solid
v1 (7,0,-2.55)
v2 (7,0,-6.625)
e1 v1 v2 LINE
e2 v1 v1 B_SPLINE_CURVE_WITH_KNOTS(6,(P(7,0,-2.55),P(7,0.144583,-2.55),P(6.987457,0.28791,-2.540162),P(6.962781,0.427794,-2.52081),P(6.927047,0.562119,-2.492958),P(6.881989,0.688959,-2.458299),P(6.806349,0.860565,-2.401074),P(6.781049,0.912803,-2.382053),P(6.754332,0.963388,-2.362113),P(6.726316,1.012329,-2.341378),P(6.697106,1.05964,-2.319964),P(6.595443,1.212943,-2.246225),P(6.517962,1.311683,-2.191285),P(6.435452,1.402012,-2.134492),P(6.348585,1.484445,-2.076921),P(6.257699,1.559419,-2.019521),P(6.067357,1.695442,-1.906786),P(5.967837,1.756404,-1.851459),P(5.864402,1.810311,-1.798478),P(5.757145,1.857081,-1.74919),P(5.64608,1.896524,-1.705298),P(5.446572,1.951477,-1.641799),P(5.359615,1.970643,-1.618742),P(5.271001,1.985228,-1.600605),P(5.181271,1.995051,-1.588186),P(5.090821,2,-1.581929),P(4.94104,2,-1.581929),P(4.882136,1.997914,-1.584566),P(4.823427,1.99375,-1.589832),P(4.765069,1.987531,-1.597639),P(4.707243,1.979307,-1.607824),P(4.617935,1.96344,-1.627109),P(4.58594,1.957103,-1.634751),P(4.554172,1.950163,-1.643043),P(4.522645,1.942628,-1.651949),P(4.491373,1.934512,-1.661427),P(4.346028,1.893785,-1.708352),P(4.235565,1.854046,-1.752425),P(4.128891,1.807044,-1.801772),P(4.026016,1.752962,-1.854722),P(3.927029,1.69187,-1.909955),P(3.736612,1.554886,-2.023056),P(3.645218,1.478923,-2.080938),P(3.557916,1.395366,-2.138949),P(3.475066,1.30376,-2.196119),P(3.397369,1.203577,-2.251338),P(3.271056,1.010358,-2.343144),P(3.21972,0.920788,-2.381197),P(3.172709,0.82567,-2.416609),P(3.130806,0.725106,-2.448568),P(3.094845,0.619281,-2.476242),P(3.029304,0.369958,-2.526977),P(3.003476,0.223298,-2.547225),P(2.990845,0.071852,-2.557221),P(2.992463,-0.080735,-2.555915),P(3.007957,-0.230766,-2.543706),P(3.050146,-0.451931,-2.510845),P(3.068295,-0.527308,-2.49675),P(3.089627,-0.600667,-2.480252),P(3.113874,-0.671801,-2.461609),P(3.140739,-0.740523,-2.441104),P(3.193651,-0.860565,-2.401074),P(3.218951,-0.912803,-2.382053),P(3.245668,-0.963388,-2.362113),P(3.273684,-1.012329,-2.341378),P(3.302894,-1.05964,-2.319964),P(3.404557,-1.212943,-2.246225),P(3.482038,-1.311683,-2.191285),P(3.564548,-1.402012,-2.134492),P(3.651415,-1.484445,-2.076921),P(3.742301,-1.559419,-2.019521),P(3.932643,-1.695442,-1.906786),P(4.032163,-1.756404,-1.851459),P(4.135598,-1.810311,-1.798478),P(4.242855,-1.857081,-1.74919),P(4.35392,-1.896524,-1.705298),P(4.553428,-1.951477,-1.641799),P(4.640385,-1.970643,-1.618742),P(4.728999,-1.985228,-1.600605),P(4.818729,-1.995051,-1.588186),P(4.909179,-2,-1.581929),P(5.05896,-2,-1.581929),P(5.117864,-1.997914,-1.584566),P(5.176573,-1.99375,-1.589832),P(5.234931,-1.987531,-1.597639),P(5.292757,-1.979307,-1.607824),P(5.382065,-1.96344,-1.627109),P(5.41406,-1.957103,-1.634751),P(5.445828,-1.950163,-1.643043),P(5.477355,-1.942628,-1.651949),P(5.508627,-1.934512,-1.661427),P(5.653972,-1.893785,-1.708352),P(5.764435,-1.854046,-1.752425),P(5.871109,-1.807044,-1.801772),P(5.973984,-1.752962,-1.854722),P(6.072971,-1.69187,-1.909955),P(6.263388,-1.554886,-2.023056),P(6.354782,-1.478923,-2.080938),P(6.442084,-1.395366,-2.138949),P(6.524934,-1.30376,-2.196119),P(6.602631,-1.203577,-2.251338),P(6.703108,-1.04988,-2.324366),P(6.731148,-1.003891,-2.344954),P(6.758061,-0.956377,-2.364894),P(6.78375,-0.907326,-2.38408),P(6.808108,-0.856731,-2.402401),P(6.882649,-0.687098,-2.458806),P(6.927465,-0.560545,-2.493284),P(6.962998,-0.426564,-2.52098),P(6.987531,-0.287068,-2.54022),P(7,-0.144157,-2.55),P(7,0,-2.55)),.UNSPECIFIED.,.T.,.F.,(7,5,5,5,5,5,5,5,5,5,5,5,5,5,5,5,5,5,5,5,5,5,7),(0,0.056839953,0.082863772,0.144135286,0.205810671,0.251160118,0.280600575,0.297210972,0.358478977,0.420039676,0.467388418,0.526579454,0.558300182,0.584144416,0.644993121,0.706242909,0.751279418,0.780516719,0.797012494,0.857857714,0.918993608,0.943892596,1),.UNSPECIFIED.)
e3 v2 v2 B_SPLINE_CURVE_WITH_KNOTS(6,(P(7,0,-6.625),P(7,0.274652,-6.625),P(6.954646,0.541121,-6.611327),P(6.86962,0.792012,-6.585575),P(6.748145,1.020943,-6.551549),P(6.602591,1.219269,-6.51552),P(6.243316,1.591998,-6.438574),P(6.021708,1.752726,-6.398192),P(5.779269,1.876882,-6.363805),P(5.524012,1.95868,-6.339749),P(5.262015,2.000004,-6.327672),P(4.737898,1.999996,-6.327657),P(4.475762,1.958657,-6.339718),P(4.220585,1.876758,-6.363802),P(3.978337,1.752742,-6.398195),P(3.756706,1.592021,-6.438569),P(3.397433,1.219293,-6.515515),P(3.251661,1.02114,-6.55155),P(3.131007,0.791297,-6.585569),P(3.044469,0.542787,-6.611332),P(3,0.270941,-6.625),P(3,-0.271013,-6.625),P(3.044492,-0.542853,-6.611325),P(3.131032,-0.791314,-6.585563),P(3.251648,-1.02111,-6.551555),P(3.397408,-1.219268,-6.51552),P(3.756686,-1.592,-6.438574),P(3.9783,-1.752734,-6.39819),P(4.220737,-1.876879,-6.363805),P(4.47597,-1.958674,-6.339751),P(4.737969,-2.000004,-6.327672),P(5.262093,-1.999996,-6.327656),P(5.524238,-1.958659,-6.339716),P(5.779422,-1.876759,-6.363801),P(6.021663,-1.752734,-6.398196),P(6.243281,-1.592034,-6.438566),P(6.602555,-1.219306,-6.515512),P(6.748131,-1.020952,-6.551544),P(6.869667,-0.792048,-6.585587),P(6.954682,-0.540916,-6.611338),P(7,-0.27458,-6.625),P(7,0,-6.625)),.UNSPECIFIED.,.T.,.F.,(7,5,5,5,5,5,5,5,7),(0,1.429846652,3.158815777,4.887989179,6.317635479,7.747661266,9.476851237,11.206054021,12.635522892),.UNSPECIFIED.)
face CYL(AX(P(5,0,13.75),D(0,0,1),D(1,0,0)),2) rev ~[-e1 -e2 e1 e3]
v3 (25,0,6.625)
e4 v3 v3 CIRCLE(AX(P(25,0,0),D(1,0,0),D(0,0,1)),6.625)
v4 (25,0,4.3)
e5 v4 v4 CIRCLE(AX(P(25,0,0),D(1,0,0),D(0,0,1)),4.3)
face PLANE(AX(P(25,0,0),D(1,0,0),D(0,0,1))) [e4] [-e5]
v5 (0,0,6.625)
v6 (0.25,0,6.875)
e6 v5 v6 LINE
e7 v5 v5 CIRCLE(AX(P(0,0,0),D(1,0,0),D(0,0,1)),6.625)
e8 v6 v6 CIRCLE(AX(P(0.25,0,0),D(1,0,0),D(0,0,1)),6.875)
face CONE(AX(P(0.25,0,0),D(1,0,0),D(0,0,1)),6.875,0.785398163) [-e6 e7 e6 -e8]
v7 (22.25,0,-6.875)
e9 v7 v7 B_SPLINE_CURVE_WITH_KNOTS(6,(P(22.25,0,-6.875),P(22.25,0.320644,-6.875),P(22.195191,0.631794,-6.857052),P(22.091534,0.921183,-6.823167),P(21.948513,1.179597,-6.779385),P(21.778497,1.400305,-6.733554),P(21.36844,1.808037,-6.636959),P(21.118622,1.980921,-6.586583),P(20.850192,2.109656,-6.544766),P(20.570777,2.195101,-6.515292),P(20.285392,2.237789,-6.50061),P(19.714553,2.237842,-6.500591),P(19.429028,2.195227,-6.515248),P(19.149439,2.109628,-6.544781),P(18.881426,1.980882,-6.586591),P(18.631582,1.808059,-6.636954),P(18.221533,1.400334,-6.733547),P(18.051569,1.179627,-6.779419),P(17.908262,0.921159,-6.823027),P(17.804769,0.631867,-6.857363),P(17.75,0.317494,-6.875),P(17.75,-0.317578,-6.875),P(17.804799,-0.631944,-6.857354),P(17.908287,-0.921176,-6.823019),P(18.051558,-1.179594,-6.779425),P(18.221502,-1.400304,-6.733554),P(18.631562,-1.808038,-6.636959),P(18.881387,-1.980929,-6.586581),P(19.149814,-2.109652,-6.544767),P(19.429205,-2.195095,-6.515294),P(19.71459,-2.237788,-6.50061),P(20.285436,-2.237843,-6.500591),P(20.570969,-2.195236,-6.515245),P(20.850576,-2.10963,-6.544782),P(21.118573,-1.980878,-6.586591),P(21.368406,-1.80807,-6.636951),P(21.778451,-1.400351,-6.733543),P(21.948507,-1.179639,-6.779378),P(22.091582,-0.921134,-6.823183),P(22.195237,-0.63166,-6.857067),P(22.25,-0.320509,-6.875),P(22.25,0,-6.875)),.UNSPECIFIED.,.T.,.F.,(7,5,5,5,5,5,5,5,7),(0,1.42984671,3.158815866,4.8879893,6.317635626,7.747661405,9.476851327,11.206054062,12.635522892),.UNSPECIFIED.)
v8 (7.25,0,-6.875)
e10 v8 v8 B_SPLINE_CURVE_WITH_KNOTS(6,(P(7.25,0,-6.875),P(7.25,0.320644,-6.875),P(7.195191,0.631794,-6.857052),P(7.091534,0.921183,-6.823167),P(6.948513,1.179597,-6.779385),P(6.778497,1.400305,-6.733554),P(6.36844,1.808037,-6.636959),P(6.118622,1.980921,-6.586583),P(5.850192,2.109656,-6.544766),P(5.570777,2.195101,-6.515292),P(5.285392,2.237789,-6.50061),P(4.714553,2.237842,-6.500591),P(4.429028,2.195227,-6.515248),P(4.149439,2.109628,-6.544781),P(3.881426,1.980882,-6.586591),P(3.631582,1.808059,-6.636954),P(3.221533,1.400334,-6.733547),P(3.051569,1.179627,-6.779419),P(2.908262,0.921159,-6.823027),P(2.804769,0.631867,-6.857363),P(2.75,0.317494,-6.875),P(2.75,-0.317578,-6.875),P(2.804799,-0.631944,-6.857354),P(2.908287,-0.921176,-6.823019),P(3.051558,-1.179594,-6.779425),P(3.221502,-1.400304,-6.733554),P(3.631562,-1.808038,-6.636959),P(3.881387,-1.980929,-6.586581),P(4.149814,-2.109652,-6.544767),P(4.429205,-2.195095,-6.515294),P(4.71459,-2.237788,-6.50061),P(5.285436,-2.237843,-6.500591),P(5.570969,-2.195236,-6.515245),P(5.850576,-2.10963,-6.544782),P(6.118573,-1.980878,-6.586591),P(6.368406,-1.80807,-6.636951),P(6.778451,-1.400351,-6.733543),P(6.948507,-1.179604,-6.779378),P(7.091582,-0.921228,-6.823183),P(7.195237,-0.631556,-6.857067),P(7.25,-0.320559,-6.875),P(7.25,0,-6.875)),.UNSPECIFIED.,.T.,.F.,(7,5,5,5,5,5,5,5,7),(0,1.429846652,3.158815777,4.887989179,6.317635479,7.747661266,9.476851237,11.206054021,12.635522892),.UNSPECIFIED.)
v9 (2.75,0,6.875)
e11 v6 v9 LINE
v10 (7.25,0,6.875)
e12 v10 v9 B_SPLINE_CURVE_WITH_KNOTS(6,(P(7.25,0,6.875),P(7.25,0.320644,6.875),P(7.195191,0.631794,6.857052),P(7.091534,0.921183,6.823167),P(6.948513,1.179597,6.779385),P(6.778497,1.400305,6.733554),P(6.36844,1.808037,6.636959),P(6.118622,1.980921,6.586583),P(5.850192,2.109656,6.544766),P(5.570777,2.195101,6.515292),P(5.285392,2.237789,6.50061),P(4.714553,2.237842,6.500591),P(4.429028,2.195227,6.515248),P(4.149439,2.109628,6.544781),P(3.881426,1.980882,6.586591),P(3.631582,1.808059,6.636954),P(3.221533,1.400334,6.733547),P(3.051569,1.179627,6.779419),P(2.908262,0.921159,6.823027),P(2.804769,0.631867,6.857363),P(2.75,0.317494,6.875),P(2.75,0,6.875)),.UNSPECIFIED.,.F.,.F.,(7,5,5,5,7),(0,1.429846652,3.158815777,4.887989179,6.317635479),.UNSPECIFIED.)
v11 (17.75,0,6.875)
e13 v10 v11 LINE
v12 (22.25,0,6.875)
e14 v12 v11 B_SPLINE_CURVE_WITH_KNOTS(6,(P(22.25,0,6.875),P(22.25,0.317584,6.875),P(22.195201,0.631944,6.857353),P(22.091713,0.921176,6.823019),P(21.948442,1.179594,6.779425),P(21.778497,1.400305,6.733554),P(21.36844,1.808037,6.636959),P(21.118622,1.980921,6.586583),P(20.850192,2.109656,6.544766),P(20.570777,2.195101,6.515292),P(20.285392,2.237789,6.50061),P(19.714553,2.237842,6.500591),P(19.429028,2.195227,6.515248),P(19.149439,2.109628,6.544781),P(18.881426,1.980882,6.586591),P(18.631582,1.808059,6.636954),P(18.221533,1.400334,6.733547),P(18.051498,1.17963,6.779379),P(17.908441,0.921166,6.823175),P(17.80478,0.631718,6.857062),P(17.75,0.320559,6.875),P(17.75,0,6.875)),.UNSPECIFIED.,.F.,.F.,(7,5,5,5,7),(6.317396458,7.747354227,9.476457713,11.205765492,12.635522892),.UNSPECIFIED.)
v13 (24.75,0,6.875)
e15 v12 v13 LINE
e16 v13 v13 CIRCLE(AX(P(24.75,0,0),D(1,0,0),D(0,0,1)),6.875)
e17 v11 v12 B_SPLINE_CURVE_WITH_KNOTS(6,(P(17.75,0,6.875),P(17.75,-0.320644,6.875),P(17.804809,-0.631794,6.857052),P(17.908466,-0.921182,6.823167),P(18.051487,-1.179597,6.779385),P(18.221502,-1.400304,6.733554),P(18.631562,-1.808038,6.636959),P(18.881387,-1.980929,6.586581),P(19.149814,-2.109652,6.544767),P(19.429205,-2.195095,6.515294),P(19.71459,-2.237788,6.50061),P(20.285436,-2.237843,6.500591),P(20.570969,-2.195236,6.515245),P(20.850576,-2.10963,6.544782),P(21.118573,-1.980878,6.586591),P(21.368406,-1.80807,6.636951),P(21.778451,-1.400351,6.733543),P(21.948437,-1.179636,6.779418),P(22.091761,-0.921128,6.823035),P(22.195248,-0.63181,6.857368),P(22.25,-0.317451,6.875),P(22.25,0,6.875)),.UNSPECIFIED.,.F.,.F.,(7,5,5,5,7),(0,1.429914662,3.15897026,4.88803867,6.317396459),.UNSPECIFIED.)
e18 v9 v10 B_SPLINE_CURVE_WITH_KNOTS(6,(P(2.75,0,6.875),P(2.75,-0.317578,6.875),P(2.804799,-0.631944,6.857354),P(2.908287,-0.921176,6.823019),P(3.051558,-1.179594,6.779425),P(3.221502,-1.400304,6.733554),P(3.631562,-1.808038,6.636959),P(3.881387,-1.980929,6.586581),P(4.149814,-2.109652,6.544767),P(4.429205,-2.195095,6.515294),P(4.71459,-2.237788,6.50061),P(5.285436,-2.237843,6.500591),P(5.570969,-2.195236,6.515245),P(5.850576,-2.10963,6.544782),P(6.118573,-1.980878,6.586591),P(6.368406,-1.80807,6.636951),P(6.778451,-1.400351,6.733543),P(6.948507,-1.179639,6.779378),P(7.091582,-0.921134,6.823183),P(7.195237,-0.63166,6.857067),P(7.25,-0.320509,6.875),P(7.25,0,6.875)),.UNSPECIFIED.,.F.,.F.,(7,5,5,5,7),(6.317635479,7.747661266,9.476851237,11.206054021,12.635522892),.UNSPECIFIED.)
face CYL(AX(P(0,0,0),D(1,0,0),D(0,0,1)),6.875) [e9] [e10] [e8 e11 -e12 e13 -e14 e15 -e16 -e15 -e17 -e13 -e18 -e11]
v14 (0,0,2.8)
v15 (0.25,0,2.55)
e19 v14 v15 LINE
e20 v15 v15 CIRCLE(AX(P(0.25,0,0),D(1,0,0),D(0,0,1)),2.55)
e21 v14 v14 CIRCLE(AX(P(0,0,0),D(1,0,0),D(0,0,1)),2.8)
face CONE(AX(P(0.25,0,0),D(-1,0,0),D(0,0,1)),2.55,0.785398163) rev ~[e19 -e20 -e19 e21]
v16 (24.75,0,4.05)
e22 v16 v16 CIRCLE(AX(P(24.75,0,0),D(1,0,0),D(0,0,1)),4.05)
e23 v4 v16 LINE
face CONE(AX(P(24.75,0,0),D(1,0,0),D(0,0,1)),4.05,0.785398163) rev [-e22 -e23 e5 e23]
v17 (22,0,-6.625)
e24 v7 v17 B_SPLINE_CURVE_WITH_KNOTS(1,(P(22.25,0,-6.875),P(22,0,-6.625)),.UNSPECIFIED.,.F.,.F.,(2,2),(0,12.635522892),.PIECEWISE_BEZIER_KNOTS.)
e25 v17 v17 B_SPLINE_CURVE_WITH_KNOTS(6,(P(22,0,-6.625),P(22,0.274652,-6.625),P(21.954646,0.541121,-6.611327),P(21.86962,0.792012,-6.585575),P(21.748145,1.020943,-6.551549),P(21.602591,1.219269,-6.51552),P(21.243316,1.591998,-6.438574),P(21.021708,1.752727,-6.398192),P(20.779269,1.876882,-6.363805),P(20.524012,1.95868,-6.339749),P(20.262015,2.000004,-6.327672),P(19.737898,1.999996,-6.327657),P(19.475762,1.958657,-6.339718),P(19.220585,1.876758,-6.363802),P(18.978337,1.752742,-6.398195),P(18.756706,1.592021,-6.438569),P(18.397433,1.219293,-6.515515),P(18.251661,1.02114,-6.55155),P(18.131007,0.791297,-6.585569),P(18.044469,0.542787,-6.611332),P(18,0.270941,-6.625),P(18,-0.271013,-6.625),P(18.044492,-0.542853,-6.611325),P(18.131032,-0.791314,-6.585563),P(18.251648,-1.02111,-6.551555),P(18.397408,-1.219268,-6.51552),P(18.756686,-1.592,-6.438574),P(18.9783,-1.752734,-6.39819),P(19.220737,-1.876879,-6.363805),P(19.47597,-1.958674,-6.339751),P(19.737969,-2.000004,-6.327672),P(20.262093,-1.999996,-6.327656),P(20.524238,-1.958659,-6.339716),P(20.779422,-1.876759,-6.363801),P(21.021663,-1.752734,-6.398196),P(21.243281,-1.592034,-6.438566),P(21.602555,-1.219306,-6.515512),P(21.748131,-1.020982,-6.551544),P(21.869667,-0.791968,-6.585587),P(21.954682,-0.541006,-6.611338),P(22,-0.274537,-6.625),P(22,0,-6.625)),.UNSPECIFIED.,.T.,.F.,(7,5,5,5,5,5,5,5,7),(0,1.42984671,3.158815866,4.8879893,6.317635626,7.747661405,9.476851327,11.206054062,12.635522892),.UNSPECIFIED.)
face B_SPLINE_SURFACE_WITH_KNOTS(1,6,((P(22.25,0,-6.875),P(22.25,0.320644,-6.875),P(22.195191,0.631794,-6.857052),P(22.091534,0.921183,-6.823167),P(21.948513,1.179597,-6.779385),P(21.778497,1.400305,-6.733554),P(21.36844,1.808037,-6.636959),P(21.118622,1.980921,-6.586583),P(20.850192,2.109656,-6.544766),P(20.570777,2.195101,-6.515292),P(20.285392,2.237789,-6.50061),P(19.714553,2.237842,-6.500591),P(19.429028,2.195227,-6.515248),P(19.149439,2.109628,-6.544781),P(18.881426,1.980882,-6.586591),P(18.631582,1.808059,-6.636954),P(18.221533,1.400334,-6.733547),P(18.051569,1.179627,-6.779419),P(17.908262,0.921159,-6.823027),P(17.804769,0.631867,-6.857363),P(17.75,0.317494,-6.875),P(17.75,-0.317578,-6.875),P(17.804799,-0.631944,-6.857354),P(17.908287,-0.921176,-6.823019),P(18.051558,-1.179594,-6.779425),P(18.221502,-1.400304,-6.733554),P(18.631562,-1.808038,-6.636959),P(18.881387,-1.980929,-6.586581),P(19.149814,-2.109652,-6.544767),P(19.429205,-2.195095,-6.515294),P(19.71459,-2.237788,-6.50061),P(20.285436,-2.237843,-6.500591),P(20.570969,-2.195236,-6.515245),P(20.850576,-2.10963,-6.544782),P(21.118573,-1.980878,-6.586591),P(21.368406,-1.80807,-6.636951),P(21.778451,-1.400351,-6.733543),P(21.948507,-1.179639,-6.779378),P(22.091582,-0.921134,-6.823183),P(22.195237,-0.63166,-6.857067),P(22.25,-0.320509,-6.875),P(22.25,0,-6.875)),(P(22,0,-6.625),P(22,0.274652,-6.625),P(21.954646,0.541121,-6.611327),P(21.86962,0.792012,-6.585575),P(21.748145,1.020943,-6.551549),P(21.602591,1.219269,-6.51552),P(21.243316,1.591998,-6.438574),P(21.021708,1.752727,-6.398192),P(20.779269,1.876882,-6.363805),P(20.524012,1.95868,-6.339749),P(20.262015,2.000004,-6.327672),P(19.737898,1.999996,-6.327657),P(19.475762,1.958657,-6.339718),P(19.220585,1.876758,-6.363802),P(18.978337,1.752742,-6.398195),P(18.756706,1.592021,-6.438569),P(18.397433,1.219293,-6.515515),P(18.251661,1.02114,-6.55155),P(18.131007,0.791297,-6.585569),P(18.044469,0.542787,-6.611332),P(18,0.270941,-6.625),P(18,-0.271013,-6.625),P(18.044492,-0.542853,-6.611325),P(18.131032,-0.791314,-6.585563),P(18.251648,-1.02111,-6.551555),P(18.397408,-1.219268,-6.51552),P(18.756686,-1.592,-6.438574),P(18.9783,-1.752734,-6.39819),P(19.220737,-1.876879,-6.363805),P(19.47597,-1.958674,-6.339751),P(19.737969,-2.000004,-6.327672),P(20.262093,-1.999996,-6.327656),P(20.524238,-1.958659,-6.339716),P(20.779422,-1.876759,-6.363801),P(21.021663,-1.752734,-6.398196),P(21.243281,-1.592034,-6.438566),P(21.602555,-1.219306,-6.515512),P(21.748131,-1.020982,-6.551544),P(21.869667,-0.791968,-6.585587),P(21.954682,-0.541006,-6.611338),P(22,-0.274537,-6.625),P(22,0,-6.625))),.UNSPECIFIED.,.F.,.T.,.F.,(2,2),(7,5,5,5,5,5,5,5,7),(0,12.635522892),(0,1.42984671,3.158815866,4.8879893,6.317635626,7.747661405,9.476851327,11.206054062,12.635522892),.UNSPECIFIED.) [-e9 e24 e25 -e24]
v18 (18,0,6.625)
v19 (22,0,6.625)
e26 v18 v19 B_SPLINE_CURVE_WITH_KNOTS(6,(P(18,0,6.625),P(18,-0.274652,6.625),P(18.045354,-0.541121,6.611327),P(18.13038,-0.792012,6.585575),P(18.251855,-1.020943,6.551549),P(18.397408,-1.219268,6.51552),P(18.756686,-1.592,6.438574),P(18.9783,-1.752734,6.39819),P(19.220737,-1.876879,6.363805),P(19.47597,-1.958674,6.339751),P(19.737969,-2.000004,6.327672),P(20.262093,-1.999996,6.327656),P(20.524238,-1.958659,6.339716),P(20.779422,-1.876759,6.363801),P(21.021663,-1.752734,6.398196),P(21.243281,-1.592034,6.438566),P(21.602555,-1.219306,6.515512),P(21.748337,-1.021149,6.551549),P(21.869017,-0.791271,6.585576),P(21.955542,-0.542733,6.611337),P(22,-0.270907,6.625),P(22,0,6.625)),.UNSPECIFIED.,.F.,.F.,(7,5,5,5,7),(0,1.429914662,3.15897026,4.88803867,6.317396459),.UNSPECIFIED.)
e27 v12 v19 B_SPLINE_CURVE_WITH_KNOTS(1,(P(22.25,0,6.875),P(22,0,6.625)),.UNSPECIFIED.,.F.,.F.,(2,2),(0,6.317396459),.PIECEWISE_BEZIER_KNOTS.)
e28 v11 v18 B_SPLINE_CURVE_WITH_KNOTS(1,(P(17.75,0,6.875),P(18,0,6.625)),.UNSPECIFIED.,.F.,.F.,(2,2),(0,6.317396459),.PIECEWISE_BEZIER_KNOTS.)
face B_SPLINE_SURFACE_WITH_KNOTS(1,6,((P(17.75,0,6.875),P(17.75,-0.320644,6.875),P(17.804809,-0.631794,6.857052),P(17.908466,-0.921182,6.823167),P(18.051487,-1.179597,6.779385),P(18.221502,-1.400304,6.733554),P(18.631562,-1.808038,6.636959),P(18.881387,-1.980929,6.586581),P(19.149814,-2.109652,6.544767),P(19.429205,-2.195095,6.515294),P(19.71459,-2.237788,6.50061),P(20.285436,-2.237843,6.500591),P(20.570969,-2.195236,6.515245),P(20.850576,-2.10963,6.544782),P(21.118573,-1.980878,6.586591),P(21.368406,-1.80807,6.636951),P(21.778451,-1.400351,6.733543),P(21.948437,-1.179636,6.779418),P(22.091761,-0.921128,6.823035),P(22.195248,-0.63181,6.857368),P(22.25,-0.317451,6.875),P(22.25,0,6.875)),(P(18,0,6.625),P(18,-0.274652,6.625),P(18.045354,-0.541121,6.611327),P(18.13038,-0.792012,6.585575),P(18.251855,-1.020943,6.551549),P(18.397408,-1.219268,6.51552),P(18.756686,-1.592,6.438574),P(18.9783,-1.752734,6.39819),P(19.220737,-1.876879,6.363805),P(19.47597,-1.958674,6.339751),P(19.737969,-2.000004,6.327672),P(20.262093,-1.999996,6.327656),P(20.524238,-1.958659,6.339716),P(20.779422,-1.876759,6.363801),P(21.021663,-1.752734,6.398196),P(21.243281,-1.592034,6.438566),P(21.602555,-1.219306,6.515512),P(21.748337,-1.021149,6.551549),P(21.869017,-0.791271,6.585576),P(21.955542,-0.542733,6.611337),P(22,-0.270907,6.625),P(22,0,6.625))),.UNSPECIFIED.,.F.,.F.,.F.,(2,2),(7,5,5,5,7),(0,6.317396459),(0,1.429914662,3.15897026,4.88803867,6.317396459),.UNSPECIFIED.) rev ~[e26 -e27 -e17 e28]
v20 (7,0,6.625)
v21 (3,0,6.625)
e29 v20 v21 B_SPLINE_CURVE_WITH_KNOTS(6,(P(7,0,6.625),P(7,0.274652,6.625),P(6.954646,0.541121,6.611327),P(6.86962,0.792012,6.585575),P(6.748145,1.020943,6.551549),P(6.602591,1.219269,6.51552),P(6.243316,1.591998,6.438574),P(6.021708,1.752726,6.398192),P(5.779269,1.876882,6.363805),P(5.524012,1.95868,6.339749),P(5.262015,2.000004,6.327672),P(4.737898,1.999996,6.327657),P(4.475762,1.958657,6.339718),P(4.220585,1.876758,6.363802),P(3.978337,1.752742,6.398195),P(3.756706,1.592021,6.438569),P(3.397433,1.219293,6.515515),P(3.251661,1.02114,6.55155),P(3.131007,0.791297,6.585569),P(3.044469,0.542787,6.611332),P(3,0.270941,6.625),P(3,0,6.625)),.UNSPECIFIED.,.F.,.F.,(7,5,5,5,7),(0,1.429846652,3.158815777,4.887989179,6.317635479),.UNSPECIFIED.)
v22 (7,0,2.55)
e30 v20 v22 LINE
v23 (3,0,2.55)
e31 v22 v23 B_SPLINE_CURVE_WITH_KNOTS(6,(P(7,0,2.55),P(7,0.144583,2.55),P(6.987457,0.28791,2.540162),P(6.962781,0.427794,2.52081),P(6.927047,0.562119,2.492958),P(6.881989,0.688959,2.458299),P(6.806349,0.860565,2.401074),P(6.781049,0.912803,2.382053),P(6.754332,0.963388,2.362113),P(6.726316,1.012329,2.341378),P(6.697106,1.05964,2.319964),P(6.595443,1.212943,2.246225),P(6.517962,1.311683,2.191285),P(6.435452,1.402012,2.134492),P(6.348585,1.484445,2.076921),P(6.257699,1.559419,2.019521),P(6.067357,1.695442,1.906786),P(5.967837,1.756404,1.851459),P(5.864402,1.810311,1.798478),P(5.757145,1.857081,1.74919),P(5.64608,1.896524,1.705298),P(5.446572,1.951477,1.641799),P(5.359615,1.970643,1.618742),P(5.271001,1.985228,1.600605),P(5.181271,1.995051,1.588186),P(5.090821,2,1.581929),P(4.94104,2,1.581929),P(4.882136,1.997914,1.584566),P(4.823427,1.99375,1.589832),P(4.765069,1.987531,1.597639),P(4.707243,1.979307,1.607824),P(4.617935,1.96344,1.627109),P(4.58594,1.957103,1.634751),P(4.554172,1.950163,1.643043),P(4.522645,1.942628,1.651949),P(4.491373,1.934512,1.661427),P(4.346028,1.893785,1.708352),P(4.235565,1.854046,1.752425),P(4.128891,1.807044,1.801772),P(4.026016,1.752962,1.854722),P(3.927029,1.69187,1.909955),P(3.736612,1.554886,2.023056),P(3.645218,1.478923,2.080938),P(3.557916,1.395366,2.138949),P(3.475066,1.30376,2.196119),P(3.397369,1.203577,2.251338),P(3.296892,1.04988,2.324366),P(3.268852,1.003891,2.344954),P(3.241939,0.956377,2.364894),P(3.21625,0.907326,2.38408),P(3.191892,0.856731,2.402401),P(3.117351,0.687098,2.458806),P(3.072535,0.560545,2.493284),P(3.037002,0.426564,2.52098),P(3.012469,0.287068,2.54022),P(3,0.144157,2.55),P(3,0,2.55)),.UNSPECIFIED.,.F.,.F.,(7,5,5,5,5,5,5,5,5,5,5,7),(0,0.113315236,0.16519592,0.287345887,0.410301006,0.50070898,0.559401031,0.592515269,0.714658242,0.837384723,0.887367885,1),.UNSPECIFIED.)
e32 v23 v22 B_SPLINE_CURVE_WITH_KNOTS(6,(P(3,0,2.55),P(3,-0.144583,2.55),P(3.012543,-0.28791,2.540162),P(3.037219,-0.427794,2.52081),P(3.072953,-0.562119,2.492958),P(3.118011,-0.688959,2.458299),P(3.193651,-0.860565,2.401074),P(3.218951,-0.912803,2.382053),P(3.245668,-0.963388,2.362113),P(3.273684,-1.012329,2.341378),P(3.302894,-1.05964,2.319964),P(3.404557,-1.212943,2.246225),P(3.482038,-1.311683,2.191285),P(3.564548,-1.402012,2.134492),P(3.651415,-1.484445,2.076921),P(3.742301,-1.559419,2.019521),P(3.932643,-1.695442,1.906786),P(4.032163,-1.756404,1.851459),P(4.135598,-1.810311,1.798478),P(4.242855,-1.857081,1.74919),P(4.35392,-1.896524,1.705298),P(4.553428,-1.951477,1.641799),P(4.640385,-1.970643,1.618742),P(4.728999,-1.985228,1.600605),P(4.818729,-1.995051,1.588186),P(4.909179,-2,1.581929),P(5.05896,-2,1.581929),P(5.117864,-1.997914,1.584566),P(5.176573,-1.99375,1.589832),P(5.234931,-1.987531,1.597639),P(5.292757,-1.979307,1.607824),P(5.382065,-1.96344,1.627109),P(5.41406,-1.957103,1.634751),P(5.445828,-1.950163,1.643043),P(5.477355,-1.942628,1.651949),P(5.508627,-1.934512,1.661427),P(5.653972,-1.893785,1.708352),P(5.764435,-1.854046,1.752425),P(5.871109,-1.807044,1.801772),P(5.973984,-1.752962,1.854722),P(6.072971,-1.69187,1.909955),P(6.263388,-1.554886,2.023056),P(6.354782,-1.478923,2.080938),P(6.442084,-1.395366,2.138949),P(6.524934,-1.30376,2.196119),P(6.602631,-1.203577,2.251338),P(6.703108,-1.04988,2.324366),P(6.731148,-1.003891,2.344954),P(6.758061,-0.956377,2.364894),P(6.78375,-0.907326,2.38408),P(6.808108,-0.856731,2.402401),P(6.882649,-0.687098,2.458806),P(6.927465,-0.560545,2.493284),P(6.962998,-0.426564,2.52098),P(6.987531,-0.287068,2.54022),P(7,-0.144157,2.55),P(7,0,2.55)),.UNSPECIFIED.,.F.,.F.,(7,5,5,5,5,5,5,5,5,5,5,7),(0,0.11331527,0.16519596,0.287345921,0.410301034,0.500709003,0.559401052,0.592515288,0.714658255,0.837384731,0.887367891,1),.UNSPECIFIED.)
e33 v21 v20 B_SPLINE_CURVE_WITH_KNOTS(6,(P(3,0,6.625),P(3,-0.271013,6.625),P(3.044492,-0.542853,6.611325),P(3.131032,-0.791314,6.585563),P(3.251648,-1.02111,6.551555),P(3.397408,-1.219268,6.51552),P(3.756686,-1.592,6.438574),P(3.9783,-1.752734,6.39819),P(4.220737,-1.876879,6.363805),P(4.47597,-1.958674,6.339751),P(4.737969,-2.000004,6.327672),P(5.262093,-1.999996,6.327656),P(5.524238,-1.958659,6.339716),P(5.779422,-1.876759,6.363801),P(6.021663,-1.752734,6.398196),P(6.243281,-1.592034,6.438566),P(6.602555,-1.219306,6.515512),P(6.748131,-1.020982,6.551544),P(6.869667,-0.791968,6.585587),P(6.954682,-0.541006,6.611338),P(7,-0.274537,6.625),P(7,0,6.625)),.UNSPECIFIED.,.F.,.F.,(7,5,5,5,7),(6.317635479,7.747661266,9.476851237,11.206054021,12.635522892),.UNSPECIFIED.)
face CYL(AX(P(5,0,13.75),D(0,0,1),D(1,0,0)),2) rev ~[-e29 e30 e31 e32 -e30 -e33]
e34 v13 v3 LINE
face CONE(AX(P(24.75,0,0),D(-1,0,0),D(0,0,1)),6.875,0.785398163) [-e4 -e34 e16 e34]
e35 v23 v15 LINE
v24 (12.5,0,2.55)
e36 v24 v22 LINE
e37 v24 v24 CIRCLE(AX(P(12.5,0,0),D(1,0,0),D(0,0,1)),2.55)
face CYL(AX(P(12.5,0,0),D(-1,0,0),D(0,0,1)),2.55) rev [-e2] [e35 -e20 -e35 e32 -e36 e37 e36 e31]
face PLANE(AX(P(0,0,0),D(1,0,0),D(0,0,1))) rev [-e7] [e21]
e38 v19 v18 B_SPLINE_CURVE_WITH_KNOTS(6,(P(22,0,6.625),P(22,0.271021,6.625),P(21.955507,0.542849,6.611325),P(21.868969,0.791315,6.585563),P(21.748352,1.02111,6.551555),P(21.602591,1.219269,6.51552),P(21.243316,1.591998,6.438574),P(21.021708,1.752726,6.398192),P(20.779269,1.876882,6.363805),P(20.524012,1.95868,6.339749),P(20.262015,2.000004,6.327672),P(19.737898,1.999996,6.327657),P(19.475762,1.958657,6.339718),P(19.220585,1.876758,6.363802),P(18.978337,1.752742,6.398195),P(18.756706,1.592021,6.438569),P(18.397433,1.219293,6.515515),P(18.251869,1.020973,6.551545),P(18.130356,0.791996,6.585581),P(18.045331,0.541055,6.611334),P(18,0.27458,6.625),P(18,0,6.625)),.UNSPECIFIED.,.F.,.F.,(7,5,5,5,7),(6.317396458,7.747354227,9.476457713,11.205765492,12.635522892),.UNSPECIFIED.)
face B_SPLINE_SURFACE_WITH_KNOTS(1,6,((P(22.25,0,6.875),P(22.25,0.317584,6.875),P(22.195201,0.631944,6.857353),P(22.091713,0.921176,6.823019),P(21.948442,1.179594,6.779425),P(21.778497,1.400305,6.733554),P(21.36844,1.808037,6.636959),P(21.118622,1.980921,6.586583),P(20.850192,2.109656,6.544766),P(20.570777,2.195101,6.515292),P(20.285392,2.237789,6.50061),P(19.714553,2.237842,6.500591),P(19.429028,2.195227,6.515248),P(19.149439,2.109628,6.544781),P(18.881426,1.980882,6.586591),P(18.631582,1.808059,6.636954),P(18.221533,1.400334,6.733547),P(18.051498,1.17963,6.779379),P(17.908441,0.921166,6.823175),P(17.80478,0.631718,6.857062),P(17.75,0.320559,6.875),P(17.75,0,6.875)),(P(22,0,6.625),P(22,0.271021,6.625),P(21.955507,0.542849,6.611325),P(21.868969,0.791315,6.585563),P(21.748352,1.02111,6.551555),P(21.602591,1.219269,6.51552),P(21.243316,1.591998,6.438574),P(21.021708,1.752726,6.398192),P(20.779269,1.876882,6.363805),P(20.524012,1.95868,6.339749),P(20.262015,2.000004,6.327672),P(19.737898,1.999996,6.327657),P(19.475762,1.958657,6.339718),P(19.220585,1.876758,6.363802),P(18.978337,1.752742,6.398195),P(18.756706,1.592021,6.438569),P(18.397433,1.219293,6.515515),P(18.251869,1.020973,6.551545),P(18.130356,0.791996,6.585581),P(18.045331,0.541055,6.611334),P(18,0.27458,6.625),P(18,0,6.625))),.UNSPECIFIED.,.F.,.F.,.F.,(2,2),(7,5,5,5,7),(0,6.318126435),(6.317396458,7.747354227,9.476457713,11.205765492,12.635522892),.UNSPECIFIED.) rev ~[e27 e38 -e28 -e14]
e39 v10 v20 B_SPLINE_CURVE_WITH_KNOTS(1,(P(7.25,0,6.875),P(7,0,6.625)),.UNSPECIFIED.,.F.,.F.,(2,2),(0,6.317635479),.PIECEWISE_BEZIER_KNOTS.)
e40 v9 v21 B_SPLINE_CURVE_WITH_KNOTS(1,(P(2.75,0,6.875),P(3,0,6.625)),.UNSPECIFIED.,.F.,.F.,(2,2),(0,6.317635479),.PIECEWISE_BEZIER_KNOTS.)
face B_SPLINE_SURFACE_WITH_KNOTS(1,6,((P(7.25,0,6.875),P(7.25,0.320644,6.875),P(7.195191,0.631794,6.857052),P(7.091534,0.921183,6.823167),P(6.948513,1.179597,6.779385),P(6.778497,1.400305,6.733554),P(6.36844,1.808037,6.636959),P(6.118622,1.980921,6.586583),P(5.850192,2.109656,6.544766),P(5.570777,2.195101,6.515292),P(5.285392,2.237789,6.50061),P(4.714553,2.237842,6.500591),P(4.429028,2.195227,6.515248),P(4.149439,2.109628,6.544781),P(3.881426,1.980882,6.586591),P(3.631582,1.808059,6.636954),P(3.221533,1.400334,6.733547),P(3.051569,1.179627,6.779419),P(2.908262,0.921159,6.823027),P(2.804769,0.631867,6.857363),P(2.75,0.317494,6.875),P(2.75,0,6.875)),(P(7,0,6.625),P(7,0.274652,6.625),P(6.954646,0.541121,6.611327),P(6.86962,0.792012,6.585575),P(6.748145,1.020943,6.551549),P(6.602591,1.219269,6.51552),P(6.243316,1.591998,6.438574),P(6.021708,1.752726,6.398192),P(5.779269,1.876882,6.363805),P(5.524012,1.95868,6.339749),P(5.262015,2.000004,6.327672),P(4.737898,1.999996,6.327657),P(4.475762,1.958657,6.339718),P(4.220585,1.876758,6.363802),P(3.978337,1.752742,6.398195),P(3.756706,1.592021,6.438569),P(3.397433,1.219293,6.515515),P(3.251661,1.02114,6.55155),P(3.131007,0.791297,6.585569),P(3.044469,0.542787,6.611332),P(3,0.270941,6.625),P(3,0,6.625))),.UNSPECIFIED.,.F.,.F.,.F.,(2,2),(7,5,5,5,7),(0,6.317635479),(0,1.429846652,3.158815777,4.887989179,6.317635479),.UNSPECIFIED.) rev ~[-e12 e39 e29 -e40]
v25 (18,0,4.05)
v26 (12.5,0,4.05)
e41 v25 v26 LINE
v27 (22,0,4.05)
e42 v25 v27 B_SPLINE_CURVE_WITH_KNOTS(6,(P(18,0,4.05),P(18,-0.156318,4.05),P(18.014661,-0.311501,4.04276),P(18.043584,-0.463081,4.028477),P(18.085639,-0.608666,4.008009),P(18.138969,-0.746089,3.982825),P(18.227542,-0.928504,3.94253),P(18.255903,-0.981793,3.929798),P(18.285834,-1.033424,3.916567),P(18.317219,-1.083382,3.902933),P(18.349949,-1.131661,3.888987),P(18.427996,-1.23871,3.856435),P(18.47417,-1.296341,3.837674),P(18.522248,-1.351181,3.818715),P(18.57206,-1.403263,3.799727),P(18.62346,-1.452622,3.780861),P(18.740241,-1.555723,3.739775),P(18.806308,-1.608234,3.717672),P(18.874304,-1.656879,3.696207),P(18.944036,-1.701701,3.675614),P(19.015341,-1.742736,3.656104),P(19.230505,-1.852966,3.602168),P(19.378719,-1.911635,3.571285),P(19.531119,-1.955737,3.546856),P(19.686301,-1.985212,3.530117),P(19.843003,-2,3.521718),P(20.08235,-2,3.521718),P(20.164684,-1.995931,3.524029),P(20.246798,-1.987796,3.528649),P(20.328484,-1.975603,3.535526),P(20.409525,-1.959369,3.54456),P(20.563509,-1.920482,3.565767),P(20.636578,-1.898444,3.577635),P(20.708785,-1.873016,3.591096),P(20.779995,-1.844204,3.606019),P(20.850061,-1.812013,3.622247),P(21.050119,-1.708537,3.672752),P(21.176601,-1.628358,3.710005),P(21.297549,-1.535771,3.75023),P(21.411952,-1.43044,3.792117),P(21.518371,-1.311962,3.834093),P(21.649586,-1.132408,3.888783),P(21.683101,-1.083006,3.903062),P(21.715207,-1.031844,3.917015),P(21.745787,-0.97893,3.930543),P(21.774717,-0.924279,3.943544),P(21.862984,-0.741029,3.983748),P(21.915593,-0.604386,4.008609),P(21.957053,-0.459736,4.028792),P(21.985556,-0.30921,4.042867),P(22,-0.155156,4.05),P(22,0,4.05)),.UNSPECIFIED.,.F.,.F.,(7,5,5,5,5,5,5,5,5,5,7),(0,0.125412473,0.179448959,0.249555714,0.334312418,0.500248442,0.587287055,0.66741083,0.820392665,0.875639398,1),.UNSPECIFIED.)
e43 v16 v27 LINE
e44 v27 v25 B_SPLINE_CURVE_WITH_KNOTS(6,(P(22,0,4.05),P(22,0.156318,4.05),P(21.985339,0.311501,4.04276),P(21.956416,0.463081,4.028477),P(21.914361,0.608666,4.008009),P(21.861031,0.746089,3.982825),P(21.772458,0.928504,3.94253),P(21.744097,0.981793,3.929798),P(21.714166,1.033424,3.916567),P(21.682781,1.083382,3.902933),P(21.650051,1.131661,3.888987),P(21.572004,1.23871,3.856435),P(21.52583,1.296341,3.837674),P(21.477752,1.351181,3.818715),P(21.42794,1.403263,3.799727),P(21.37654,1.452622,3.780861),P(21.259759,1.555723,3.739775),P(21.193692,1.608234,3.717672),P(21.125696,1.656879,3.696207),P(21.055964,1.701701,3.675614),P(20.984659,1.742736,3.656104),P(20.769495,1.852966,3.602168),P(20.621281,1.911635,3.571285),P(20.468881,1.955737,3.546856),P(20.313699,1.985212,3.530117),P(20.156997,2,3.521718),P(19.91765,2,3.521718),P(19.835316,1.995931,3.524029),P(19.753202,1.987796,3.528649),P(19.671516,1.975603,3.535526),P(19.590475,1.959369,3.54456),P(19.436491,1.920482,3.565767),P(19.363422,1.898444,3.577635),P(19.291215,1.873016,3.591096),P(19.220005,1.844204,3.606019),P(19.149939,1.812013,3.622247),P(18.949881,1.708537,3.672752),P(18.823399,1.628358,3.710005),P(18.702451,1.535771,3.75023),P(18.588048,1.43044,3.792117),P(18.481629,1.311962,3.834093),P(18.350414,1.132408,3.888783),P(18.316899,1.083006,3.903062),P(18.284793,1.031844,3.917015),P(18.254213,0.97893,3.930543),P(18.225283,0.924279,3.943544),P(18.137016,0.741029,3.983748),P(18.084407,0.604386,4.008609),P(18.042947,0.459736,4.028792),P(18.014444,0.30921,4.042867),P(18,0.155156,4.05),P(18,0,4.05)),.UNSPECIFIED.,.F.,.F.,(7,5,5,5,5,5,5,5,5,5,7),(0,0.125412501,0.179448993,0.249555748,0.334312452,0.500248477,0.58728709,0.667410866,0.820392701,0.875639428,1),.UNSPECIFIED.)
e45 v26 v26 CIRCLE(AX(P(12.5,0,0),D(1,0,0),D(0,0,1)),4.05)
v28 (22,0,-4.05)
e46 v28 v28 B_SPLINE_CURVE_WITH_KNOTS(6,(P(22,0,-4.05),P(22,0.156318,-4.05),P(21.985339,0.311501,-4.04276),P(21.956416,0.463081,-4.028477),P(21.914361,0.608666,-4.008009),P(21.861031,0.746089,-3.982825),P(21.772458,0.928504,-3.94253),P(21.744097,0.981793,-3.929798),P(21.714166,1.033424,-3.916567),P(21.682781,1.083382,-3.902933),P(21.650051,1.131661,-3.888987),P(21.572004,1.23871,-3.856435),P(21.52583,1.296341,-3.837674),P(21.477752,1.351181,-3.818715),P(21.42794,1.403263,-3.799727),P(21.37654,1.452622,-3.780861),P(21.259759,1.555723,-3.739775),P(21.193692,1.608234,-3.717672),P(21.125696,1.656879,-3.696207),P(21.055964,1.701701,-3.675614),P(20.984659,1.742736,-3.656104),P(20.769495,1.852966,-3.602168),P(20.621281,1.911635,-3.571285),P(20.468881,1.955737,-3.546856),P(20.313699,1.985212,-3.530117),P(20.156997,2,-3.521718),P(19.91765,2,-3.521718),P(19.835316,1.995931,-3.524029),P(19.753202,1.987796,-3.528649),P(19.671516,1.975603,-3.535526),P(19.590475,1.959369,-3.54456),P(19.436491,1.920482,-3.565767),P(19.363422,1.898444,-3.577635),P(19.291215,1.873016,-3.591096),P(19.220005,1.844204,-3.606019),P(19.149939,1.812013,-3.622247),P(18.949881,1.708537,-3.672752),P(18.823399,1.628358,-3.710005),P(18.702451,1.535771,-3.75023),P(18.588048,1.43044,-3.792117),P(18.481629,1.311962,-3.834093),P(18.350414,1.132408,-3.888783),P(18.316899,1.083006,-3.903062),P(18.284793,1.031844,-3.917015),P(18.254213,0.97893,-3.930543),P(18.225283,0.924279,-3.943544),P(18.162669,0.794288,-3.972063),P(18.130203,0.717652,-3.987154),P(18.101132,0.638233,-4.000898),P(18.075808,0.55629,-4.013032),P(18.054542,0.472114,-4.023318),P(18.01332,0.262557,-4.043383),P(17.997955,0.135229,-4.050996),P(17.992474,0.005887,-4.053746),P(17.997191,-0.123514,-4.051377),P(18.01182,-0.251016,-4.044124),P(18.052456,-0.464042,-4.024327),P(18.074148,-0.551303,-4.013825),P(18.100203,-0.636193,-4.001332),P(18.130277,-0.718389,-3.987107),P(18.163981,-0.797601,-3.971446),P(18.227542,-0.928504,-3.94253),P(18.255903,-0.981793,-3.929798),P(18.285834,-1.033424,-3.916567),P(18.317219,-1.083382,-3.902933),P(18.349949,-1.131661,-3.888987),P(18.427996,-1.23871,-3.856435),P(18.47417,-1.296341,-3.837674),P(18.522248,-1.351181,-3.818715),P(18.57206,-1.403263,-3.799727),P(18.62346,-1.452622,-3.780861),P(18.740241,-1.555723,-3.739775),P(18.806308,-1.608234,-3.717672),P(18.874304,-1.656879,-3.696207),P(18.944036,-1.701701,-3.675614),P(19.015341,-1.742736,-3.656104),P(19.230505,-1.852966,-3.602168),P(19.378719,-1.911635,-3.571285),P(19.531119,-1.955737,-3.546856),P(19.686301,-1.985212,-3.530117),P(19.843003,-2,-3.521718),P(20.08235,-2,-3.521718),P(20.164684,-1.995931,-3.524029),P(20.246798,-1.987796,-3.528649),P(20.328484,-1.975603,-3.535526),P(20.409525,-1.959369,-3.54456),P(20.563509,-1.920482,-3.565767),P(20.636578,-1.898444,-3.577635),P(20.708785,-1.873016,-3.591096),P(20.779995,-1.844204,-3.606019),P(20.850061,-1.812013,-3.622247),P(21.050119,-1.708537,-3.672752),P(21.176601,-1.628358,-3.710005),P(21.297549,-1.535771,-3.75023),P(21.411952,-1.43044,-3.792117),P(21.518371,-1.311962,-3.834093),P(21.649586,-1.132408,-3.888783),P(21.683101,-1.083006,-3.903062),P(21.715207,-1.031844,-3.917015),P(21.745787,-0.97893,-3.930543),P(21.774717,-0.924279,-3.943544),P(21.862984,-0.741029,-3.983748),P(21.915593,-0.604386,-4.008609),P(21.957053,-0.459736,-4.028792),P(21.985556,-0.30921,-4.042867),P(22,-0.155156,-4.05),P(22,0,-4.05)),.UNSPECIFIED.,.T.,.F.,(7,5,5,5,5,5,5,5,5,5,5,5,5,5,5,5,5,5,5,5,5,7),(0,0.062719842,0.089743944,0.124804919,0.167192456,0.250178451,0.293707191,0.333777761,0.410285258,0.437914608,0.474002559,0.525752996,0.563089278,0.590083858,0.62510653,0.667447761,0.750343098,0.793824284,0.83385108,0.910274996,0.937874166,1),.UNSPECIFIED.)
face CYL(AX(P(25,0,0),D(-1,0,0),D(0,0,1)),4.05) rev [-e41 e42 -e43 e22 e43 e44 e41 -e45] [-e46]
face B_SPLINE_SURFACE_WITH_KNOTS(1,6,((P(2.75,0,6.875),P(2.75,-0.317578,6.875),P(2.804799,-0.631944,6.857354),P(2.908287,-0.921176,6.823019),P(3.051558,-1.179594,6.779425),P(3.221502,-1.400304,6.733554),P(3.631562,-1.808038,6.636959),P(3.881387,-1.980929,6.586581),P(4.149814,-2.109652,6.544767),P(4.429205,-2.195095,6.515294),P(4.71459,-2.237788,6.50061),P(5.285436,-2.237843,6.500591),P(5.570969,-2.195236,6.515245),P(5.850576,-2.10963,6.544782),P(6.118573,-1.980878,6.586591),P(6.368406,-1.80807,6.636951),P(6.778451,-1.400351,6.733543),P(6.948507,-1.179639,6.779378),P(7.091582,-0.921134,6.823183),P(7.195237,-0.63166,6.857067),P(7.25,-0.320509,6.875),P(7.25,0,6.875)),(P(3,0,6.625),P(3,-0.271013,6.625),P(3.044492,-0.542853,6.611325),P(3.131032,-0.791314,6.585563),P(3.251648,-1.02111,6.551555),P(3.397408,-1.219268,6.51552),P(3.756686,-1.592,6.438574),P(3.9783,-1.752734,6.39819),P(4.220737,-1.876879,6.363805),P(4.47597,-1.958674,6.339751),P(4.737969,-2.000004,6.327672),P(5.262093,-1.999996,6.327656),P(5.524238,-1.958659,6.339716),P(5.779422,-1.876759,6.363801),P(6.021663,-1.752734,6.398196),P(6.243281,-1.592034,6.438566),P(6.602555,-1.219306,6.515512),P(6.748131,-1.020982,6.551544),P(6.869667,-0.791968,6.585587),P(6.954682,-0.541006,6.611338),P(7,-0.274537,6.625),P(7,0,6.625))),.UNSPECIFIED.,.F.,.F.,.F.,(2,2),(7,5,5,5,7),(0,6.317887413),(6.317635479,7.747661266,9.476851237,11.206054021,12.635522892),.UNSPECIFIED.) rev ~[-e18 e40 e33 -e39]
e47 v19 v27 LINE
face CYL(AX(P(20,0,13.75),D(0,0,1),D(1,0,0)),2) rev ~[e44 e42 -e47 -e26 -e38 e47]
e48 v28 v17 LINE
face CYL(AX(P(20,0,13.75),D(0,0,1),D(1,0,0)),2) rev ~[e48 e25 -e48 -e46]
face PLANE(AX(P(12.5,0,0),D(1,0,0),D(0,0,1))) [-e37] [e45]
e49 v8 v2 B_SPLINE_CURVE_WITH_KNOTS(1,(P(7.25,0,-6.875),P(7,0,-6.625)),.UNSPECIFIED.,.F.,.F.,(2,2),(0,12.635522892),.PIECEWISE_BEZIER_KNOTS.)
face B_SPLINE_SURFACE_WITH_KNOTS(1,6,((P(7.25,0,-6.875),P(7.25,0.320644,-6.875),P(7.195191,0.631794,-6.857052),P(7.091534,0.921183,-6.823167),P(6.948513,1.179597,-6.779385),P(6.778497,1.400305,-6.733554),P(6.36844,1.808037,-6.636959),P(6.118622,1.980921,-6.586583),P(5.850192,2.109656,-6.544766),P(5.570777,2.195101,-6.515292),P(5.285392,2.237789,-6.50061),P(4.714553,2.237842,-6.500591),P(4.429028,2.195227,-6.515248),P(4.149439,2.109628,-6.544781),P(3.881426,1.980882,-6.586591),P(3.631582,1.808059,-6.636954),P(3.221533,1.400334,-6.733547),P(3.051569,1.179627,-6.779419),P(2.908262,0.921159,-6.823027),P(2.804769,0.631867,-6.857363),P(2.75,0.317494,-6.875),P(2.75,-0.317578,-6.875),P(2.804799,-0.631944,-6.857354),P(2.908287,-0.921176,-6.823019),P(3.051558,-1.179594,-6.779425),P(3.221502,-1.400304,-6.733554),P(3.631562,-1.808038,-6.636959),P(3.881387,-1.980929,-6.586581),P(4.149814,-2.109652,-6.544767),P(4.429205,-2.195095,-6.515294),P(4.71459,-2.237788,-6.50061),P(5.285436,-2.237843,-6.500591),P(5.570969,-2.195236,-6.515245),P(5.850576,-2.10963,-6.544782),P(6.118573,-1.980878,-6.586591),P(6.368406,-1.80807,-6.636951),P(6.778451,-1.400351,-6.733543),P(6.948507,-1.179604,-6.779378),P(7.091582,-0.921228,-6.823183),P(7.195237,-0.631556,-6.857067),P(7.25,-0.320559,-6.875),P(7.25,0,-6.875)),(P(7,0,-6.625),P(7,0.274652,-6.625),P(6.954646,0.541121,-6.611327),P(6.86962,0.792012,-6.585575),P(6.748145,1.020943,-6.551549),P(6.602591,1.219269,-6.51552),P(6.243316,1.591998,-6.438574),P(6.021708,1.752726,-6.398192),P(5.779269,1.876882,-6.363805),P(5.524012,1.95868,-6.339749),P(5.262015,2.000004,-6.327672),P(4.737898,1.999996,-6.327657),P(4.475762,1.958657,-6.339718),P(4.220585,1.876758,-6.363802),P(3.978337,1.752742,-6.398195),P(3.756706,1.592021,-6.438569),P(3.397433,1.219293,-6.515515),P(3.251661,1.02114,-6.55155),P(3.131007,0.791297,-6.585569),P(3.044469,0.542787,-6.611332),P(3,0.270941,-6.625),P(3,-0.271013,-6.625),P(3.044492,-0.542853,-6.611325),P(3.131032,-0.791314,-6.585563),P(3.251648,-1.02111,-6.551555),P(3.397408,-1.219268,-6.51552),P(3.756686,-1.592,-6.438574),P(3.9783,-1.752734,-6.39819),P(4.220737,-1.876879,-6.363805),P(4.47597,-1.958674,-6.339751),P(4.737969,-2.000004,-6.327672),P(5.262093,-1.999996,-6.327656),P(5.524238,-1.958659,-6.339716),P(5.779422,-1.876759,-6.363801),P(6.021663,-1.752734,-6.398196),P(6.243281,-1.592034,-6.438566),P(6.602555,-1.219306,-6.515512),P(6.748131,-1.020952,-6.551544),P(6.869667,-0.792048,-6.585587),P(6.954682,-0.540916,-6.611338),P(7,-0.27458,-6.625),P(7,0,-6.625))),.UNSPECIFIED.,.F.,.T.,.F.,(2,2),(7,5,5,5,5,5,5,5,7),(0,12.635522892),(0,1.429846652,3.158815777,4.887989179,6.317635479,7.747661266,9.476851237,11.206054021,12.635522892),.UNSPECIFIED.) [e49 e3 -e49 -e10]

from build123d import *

# Parameters (mm, degrees)
SKETCH001_R  = 2
HOLE_DEPTH   = 20.626
CHAMFER_SIZE = 0.25


with BuildPart() as part:
    # Sketch → Revolution (revolve)
    with BuildSketch(Plane.XZ):
        Polygon((0, 2.55), (0, 6.875), (25, 6.875), (25, 4.05), (12.5, 4.05), (12.5, 2.55), align=None)
    revolve(axis=Axis((0, 0, 0), (1, 0, 0)))

    # Sketch001 → Hole (cut, through all)
    with BuildSketch(Plane.XY.offset(13.75)):
        with Locations((5, 0)):
            Circle(SKETCH001_R)
        with Locations((20, 0)):
            Circle(SKETCH001_R)
    extrude(amount=-HOLE_DEPTH, mode=Mode.SUBTRACT)

    # Chamfer
    chamfer_edges = [part.edges().sort_by_distance(p)[0] for p in [
        (25, 0, -6.875),
        (0, 0, -6.875),
        (25, 0, -4.05),
        (0, 0, -2.55),
        (5, 2, 6.577661),
        (5, -2, 6.577661),
        (20, -2, 6.577661),
        (20, 2, 6.577661),
        (3, 0, -6.875),
        (18, 0, -6.875),
    ]]
    chamfer(chamfer_edges, length=CHAMFER_SIZE)


solid = part.part
